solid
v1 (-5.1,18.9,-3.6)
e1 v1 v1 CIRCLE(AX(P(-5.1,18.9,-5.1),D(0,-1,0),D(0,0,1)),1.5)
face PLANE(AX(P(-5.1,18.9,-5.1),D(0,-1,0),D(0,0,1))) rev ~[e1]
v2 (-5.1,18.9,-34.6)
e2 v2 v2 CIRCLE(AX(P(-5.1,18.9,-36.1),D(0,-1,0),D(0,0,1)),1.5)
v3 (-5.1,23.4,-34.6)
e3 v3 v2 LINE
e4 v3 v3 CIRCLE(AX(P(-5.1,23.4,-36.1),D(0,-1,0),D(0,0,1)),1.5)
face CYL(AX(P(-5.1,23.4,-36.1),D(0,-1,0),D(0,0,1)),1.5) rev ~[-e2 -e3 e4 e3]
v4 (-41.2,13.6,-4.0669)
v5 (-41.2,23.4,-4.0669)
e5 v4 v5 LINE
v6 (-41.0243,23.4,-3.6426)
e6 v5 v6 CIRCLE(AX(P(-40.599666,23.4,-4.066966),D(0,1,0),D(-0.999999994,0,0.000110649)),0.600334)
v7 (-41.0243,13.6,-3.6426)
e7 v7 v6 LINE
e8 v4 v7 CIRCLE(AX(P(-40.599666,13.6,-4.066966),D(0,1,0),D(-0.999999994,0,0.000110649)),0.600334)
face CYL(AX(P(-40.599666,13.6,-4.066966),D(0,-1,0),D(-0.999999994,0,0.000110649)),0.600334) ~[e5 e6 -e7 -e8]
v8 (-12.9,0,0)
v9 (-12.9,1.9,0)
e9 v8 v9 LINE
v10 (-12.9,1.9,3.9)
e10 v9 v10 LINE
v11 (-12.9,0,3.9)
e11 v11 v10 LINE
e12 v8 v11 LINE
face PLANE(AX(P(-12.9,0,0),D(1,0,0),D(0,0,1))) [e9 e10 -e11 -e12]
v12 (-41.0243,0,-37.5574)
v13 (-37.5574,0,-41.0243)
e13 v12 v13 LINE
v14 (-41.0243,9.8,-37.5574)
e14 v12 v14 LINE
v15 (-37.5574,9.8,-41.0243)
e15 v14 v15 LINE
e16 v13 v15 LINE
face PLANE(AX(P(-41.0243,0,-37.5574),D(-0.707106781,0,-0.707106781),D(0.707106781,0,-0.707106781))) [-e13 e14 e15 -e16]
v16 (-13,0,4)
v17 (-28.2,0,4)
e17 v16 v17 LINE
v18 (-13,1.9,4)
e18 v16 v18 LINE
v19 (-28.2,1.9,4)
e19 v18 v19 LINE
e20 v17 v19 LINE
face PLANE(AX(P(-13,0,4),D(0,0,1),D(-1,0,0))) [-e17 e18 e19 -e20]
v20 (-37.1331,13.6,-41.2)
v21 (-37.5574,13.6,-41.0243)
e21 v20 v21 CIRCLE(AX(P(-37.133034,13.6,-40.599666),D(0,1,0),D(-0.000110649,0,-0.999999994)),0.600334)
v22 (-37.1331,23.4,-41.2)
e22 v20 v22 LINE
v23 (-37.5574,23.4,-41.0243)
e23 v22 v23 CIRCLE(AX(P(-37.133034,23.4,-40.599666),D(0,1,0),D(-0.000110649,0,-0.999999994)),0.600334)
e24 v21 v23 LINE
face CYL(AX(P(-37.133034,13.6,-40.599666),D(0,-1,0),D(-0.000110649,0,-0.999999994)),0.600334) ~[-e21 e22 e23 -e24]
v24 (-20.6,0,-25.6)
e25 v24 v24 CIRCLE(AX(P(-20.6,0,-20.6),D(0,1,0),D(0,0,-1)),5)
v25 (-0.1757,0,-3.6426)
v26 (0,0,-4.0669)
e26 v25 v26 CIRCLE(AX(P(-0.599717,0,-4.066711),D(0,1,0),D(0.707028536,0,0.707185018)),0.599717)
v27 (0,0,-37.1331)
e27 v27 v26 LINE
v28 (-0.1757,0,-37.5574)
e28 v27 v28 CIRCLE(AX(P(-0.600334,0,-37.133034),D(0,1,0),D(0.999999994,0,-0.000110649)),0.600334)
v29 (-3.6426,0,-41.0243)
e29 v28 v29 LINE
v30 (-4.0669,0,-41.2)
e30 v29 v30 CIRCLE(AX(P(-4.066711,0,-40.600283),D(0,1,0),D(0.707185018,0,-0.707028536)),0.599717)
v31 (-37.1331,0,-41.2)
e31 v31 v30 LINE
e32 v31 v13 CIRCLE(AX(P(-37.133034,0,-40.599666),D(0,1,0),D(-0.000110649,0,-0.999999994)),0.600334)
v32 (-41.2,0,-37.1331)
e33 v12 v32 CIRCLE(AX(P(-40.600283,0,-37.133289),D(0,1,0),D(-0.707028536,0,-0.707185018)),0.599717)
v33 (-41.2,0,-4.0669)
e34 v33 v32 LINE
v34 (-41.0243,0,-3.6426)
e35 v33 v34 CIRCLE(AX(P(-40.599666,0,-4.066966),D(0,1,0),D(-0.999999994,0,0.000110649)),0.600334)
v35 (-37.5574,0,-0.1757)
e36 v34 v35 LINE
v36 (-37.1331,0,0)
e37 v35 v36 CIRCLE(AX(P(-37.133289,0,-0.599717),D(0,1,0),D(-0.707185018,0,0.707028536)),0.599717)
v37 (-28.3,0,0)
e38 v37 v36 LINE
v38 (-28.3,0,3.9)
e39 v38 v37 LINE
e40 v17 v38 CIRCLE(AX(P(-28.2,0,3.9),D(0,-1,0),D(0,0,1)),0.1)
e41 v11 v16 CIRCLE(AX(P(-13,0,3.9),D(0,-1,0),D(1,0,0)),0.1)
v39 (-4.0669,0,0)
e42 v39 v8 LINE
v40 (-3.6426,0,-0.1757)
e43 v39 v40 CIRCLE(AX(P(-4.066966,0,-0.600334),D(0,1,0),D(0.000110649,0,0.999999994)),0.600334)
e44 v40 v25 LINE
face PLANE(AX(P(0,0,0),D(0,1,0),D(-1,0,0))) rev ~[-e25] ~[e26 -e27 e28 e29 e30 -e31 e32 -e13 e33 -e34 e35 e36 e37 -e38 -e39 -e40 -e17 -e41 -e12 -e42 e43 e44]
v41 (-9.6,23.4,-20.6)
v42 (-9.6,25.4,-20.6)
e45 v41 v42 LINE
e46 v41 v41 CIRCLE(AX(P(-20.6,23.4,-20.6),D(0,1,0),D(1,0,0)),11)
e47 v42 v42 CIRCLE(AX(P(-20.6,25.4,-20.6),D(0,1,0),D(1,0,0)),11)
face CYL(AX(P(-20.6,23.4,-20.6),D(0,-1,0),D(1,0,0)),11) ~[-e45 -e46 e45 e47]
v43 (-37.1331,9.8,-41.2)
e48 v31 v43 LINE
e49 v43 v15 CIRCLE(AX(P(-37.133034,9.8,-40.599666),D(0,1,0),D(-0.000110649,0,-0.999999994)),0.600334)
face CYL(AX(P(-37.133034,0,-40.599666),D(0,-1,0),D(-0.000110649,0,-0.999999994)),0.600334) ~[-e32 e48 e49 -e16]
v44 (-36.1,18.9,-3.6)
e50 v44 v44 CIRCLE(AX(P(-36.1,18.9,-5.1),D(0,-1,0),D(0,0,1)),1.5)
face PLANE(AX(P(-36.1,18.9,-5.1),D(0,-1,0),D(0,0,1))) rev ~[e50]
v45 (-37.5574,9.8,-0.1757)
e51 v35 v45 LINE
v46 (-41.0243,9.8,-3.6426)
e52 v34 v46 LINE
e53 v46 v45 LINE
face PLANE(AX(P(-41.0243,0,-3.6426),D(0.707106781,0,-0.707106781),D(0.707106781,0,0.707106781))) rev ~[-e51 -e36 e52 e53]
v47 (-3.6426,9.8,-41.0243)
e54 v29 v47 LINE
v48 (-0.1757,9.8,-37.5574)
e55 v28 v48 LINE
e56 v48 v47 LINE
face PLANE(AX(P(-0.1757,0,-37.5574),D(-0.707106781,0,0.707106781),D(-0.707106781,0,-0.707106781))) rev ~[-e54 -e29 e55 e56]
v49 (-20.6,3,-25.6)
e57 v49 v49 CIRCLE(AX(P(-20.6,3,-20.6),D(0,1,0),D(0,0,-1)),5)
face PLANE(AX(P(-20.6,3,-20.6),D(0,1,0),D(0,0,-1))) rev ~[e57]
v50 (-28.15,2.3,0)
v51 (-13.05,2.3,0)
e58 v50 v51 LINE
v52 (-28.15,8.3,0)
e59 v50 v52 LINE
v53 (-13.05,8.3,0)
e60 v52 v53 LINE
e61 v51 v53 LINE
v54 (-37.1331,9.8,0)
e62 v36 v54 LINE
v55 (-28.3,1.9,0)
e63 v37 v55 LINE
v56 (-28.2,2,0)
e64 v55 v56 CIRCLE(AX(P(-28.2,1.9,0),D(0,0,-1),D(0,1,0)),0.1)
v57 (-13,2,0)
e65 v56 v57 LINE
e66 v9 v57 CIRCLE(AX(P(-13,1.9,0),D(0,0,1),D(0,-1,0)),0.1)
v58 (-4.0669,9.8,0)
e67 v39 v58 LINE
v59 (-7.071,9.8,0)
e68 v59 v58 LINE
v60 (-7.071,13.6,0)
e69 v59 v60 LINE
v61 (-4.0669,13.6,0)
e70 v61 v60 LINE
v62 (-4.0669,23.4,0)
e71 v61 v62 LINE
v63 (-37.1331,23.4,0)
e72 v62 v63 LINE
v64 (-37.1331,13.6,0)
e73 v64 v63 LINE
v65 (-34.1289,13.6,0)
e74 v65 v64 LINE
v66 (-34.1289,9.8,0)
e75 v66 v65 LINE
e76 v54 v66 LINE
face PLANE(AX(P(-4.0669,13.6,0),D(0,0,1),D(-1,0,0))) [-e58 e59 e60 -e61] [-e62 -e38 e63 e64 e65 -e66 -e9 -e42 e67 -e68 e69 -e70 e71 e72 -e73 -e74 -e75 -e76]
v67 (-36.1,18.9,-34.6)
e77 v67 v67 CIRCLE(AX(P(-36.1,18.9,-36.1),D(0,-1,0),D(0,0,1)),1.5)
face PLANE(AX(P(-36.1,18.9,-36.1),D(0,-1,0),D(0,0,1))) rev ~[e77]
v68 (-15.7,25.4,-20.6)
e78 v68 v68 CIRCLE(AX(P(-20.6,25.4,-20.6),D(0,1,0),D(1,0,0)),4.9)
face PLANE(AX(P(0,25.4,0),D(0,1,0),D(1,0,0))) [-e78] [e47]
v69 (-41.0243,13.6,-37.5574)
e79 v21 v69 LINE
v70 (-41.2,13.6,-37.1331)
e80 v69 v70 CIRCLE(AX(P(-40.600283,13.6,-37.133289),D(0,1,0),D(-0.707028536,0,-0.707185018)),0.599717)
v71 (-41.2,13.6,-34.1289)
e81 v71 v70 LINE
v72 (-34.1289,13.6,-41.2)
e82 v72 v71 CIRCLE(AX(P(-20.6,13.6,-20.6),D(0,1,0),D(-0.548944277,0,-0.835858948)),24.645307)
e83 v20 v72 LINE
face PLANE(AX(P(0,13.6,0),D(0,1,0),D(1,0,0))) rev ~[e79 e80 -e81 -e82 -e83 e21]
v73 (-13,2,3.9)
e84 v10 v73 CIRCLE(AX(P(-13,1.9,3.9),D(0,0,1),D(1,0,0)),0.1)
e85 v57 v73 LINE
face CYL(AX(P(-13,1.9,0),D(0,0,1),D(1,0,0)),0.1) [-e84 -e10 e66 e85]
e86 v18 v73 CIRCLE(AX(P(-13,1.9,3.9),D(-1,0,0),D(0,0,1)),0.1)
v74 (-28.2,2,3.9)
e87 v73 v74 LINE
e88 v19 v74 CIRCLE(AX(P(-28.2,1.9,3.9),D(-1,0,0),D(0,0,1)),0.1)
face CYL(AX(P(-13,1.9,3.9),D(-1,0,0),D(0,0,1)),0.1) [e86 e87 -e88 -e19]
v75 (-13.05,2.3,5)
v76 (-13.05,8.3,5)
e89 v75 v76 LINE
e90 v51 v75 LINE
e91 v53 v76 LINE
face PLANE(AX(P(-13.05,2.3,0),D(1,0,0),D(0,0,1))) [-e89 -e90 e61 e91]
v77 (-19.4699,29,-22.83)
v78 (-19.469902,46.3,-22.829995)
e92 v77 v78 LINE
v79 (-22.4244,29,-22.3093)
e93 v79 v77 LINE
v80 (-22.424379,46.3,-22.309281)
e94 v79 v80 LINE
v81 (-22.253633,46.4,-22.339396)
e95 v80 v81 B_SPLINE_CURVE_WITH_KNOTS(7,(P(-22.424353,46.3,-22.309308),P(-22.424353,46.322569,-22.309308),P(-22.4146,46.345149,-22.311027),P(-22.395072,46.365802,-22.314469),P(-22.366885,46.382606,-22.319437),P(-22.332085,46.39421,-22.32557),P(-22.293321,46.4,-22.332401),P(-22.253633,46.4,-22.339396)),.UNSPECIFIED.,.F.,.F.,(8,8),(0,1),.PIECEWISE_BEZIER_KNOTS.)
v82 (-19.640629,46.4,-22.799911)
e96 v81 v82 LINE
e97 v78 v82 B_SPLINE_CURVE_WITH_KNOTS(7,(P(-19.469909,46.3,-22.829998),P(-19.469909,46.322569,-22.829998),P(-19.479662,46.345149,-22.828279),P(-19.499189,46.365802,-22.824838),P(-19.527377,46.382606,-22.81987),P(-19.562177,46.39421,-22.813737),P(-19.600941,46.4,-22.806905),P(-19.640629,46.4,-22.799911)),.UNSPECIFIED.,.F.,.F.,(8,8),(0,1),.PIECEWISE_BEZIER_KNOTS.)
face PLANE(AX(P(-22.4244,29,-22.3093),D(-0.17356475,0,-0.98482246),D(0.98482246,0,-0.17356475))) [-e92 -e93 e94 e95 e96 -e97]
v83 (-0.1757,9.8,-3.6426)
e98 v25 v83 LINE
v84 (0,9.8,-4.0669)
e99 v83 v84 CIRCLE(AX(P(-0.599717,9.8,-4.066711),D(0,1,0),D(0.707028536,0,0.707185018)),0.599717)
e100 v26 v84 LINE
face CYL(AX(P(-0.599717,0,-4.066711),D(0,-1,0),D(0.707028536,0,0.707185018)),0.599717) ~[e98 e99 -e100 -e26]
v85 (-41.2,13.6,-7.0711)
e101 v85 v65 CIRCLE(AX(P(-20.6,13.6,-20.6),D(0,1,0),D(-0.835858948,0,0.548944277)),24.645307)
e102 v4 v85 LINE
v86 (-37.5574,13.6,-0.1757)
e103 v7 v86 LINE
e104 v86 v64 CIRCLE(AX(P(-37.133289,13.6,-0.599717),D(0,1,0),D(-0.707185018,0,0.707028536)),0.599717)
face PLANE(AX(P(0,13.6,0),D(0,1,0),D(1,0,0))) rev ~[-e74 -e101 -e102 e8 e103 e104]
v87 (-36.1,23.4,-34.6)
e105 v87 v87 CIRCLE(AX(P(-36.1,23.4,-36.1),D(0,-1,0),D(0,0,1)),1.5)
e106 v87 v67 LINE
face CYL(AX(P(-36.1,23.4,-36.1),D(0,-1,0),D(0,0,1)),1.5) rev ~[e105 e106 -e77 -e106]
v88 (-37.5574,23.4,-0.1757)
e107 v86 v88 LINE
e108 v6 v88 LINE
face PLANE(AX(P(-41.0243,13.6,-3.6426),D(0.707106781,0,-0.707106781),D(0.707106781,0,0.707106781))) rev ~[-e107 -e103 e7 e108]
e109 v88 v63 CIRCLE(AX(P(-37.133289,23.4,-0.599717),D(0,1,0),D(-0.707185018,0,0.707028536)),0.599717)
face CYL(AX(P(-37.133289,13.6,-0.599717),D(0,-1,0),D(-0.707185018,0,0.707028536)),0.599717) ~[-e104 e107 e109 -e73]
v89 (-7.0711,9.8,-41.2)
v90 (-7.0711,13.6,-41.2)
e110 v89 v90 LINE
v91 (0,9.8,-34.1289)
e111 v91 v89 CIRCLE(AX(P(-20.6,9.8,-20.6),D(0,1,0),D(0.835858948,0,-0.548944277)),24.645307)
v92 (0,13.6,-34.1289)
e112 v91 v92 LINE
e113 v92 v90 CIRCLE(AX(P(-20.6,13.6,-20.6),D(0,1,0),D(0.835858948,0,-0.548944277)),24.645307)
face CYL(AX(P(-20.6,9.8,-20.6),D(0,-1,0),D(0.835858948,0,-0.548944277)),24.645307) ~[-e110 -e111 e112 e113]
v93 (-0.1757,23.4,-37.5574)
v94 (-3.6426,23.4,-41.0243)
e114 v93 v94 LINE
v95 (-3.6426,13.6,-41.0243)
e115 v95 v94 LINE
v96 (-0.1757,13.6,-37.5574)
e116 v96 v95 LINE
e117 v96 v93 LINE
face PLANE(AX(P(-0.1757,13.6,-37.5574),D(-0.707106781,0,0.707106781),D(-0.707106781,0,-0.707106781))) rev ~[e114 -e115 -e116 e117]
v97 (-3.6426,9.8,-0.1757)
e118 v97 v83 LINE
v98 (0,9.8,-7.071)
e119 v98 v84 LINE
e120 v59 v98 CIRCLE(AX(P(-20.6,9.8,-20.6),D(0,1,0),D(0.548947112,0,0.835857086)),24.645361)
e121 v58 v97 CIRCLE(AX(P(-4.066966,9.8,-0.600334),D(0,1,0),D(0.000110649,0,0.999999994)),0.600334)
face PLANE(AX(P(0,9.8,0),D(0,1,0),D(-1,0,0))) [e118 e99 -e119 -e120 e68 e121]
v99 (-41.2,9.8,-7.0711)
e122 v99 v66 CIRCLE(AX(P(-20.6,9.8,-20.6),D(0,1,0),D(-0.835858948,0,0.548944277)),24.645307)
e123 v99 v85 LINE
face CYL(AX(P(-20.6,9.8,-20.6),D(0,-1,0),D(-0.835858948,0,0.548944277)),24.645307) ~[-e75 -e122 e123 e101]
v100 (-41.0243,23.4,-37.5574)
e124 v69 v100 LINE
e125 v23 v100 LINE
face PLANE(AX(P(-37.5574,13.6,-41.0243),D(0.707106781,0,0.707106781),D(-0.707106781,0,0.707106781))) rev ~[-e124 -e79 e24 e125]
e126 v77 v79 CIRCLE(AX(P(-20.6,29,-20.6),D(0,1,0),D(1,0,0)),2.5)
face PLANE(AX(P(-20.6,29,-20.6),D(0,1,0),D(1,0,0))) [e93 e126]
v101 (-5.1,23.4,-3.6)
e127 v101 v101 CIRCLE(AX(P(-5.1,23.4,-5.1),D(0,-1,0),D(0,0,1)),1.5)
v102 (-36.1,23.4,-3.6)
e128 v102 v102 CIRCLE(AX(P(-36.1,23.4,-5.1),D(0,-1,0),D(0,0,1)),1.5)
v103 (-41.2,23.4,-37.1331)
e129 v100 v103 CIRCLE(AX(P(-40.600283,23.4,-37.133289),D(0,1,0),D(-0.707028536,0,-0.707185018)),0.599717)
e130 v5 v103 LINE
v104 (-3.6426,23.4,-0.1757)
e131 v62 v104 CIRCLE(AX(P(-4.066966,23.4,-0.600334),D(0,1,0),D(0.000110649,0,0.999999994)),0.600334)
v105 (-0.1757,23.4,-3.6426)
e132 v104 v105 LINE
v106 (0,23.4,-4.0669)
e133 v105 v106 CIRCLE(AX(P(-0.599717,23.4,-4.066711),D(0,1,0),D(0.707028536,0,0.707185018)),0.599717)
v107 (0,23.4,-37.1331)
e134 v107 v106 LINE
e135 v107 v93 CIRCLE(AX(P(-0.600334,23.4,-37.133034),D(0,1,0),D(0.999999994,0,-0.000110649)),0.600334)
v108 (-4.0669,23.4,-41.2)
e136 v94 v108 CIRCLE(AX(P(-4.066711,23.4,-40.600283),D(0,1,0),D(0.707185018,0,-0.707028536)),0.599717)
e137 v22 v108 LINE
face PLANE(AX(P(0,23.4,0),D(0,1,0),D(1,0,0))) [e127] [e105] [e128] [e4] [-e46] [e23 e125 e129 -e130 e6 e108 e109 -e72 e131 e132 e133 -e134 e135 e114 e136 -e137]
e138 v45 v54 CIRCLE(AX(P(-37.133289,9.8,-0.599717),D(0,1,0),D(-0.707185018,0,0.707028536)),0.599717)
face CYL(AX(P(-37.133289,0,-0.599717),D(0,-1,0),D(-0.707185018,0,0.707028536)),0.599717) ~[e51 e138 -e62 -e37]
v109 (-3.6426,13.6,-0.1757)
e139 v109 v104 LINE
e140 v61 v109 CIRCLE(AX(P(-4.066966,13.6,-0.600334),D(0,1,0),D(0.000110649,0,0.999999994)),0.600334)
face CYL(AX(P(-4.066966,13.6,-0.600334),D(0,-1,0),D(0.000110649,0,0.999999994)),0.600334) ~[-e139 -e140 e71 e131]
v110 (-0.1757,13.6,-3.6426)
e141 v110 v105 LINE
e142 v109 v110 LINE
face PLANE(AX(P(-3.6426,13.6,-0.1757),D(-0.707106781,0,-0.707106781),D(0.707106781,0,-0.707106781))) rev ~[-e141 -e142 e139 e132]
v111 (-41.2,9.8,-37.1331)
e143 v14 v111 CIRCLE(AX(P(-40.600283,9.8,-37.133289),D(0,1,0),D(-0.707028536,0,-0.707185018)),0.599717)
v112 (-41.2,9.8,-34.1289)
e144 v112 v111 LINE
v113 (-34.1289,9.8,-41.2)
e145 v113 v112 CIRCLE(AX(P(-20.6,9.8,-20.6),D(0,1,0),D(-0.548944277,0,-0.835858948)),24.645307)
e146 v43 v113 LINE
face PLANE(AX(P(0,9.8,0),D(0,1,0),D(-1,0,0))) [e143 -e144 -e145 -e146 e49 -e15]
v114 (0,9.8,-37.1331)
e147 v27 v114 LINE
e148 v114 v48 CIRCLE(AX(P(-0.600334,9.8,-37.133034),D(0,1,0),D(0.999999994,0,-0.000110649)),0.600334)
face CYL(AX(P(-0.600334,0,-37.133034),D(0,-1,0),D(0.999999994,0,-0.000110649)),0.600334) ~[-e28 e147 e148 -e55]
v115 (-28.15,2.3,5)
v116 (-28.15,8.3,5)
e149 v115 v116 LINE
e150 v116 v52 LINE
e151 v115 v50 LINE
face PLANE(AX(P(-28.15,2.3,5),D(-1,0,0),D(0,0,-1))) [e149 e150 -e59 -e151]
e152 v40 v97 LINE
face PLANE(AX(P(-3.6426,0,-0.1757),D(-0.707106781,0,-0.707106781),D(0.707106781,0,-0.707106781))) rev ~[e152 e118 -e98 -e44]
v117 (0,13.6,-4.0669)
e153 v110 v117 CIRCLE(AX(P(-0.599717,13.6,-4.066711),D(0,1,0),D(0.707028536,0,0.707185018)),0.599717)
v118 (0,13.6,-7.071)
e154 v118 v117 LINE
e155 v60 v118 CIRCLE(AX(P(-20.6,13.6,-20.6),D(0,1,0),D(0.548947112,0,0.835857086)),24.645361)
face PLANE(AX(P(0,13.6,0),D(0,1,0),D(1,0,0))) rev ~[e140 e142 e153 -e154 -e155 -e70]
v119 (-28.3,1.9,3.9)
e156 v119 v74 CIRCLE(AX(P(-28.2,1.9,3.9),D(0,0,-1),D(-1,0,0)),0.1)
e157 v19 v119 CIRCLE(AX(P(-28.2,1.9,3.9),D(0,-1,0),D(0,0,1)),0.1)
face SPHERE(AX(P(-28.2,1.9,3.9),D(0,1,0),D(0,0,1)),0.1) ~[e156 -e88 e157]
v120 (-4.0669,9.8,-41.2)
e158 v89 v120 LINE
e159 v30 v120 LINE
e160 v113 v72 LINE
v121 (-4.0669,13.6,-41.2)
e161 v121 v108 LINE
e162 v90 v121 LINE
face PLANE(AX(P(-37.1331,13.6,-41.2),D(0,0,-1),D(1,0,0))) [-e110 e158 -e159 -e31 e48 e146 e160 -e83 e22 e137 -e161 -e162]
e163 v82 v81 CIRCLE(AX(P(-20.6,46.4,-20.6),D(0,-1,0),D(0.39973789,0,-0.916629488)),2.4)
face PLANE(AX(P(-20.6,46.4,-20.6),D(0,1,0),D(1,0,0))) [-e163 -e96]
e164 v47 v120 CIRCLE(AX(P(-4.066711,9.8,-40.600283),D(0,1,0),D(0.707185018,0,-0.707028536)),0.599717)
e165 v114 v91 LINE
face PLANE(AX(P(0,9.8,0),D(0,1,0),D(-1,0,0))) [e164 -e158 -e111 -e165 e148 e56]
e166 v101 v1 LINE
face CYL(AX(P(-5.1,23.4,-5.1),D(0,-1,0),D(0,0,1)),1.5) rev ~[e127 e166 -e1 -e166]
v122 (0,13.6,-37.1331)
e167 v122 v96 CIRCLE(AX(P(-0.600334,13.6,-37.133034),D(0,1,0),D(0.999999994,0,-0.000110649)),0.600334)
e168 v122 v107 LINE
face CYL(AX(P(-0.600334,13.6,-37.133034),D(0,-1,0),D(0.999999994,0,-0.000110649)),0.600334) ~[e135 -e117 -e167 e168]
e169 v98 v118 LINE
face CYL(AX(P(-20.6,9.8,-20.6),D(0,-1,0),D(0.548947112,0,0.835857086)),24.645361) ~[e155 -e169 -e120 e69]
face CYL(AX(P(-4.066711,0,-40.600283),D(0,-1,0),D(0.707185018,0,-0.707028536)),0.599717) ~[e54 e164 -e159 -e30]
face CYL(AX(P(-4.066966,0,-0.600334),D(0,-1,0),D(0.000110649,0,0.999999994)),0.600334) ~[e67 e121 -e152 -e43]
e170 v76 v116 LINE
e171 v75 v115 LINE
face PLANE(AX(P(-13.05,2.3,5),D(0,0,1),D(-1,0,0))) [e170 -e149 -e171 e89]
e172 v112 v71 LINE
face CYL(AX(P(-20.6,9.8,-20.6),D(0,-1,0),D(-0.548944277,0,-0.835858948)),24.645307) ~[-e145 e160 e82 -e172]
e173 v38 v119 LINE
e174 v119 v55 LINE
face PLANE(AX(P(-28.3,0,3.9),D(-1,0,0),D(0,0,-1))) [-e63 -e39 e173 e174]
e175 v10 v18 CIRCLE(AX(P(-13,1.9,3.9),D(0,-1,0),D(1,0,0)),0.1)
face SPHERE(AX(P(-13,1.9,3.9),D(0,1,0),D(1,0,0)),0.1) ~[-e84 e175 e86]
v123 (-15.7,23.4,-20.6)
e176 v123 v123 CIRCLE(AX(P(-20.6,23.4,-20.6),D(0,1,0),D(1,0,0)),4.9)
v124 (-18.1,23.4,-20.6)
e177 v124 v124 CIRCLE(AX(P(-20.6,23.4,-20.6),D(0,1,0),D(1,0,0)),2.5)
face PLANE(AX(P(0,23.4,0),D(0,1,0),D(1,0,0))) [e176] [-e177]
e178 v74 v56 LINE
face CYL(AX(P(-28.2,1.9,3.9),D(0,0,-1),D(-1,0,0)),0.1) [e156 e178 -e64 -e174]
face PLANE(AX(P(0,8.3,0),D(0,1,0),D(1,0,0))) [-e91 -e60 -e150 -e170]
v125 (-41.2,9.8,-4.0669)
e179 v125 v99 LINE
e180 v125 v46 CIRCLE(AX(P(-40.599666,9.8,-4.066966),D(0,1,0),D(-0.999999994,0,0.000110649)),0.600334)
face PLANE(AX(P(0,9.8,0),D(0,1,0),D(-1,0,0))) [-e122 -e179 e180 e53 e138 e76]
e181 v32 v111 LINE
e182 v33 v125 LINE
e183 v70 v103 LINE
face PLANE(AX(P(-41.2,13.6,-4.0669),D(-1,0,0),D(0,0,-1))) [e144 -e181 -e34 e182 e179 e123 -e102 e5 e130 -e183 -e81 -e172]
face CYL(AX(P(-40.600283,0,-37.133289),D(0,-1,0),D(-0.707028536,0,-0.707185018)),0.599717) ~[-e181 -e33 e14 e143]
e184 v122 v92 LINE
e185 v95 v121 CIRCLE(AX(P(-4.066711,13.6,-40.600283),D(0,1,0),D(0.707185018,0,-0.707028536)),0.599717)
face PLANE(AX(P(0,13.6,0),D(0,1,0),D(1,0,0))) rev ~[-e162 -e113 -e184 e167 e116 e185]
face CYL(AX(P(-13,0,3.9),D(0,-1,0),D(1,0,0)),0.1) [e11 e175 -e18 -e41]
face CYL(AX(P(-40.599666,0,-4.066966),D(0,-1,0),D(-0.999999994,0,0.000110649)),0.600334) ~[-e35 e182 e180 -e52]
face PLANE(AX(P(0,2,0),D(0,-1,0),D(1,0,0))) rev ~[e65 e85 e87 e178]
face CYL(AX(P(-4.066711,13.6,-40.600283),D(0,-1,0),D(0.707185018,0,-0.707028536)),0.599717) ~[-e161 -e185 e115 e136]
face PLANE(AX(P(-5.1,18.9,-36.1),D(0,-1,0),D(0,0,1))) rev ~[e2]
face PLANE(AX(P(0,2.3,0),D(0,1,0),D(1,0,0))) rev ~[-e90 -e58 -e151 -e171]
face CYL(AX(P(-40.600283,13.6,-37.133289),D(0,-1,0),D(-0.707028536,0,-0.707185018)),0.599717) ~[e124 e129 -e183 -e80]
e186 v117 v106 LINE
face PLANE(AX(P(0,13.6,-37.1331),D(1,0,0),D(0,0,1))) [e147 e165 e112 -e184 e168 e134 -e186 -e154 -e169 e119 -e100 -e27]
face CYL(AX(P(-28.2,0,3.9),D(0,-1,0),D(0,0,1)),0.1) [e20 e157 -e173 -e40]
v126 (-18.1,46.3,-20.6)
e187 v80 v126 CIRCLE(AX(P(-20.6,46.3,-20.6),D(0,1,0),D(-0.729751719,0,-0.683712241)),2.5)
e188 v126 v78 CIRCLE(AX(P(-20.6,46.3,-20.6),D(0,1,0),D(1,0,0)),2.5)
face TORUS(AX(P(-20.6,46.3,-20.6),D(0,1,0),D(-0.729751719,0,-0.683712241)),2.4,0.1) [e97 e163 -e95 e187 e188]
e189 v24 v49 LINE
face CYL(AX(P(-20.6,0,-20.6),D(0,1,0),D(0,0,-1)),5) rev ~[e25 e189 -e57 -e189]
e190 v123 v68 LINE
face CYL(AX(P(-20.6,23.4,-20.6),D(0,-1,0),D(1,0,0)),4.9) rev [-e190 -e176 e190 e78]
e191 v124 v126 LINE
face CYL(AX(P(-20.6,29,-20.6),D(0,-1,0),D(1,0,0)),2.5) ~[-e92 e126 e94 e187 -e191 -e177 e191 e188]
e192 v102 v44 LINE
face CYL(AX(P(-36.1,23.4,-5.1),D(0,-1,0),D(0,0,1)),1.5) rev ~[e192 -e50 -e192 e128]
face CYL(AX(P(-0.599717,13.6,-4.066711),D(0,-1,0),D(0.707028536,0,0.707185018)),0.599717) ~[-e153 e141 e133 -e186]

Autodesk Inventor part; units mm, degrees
ref_plane "YZ Plane" through (0, 0, 0) normal (1, 0, 0) x (0, 1, 0)
ref_plane "XZ Plane" through (0, 0, 0) normal (0, 1, 0) x (-1, 0, 0)
ref_plane "XY Plane" through (0, 0, 0) normal (0, 0, 1) x (1, 0, 0)
sketch "スケッチ1" plane through (0, 0, 0) normal (0, 1, 0) x (-1, 0, 0)
  line L0 (41.0243, -3.6426) -> (37.5574, -0.1757)
  line L1 (41.0243, -37.5574) -> (37.5574, -41.0243)
  line L2 (3.6426, -0.1757) -> (0.1757, -3.6426)
  line L3 (0.1757, -37.5574) -> (3.6426, -41.0243)
  line L4 (0, -37.1331) -> (0, -4.0669)
  line L5 (37.1331, -41.2) -> (4.0669, -41.2)
  line L6 (41.2, -4.0669) -> (41.2, -37.1331)
  line L7 (37.1331, 0) -> (4.0669, 0)
  arc A0 (41.2, -4.0669) -> (41.0243, -3.6426) centre (40.6, -4.0669) ccw
  arc A1 (37.5574, -0.1757) -> (37.1331, 0) centre (37.1331, -0.6) ccw
  arc A2 (4.0669, 0) -> (3.6426, -0.1757) centre (4.0669, -0.6) ccw
  arc A3 (0.1757, -3.6426) -> (0, -4.0669) centre (0.6, -4.0669) ccw
  arc A4 (0, -37.1331) -> (0.1757, -37.5574) centre (0.6, -37.1331) ccw
  arc A5 (3.6426, -41.0243) -> (4.0669, -41.2) centre (4.0669, -40.6) ccw
  arc A6 (37.1331, -41.2) -> (37.5574, -41.0243) centre (37.1331, -40.6) ccw
  arc A7 (41.0243, -37.5574) -> (41.2, -37.1331) centre (40.6, -37.1331) ccw
  line L8 (25.8, 0) -> (15.4, 0)
  point P0 (0, 0)
  point P1 (41.2, -3.8184)
  point P2 (37.3816, 0)
  point P3 (39.2908, -1.9092)
  point P4 (37.3816, -41.2)
  point P5 (41.2, -37.3816)
  dimension "d2" = 5.4
  dimension "d3" = 5.4
  dimension "d4" = 0.6
extrude "押し出し1" add sketch "スケッチ1" along normal blind 9.8
sketch "スケッチ2" plane through (0, 9.8, 0) normal (0, 1, 0) x (1, 0, 0)
  line L0 (-41.2, 37.1331) -> (-41.2, 4.0669) projected
  line L1 (-41.0243, 3.6426) -> (-37.5574, 0.1757) projected
  line L2 (-4.0669, 41.2) -> (-37.1331, 41.2) projected
  line L3 (0, 4.0669) -> (0, 37.1331) projected
  line L4 (-37.1331, 0) -> (-4.0669, 0) projected
  line L5 (0, 34.1568) -> (0, 7.099)
  line L6 (-7.099, 0) -> (-34.1289, 0)
  line L7 (-41.2, 7.0711) -> (-41.2, 34.1568)
  line L8 (-37.5574, 41.0243) -> (-41.0243, 37.5574) projected
  line L9 (-3.6426, 0.1757) -> (-0.1757, 3.6426) projected
  arc A0 (-41.2, 7.0711) -> (-34.1289, 0) centre (-20.6, 20.6) ccw
  arc A1 (-7.071, 0) -> (0, 7.071) centre (-20.6, 20.6) ccw
  arc A2 (0, 34.1289) -> (-7.0711, 41.2) centre (-20.6, 20.6) ccw
  arc A3 (-34.1289, 41.2) -> (-41.2, 34.1289) centre (-20.6, 20.6) ccw
  line L10 (-34.1289, 0) -> (-7.071, 0)
  line L11 (-41.2, 7.0711) -> (-41.2, 34.1289)
  line L12 (-34.1289, 41.2) -> (-7.0711, 41.2)
  line L13 (0, 34.1289) -> (0, 7.071)
  point P0 (0, 0)
  point P1 (0, 40.8633)
  point P2 (-37.6645, 3.5355)
  point P3 (0, 34.1289)
  point P4 (-41.2, 41.2)
  point P5 (-7.071, 0)
  point P6 (0, 7.071)
  dimension "d8" = 10
  dimension "d9" = 10
extrude "押し出し2" add sketch "スケッチ2" along normal blind 3.8
ref_plane "作業平面1" through (0, 13.6, 0) normal (0, 1, 0) x (1, 0, 0)
sketch "スケッチ4" plane through (0, 13.6, 0) normal (0, 1, 0) x (1, 0, 0)
  line L0 (-4.0669, 0) -> (-37.1331, 0)
  line L1 (-41.2, 4.0669) -> (-41.2, 37.1331)
  line L2 (-37.1331, 41.2) -> (-4.0669, 41.2)
  line L3 (0, 37.1331) -> (0, 4.0669)
  line L4 (-41.0243, 3.6426) -> (-37.5574, 0.1757) projected
  line L5 (-41.0243, 3.6426) -> (-37.5574, 0.1757)
  line L6 (-0.1757, 37.5574) -> (-3.6426, 41.0243) projected
  line L7 (-3.6426, 41.0243) -> (-0.1757, 37.5574)
  line L8 (-3.6426, 0.1757) -> (-0.1757, 3.6426) projected
  line L9 (-0.1757, 3.6426) -> (-3.6426, 0.1757)
  line L10 (-37.5574, 41.0243) -> (-41.0243, 37.5574) projected
  line L11 (-37.5574, 41.0243) -> (-41.0243, 37.5574)
  arc A0 (-37.1331, 41.2) -> (-37.5574, 41.0243) centre (-37.1331, 40.6) ccw
  arc A1 (-41.0243, 37.5574) -> (-41.2, 37.1331) centre (-40.6, 37.1331) ccw
  line L12 (-41.0243, 3.6426) -> (-37.5574, 0.1757)
  arc A2 (-41.2, 4.0669) -> (-41.0243, 3.6426) centre (-40.6, 4.0669) ccw
  arc A3 (-37.5574, 0.1757) -> (-37.1331, 0) centre (-37.1331, 0.6) ccw
  arc A4 (-3.6426, 41.0243) -> (-4.0669, 41.2) centre (-4.0669, 40.6) ccw
  arc A5 (0, 37.1331) -> (-0.1757, 37.5574) centre (-0.6, 37.1331) ccw
  line L13 (-0.1757, 3.6426) -> (-3.6426, 0.1757)
  arc A6 (-0.1757, 3.6426) -> (0, 4.0669) centre (-0.6, 4.0669) ccw
  arc A7 (-4.0669, 0) -> (-3.6426, 0.1757) centre (-4.0669, 0.6) ccw
  point P0 (0, 0)
  point P1 (-41.2, 41.2)
  point P2 (-41.2, 0)
  point P3 (0, 41.2)
  point P4 (-41.0243, 37.5574)
  point P5 (-0.1757, 3.6426)
  dimension "d16" = 41.2
  dimension "d17" = 41.2
  dimension "d18" = 0.6
  dimension "d19" = 0.6
  dimension "d20" = 0.6
  dimension "d21" = 0.6
  dimension "d22" = 0.6
extrude "押し出し3" add sketch "スケッチ4" along normal blind 9.8
ref_plane "作業平面2" through (0, 0, 0) normal (0, -1, 0) x (1, 0, 0)
sketch "スケッチ5" plane through (0, 0, 0) normal (0, -1, 0) x (1, 0, 0)
  line L0 (-37.1331, 0) -> (-4.0669, 0) projected
  line L1 (-37.1331, 0) -> (-4.0669, 0) projected
  line L2 (-28.3, 0) -> (-12.9, 0)
  line L3 (-12.9, 0) -> (-12.9, 3.9)
  line L4 (-13, 4) -> (-28.2, 4)
  line L5 (-28.3, 3.9) -> (-28.3, 0)
  arc A0 (-28.2, 4) -> (-28.3, 3.9) centre (-28.2, 3.9) ccw
  arc A1 (-12.9, 3.9) -> (-13, 4) centre (-13, 3.9) ccw
  point P0 (0, 0)
  point P1 (-15.4, 0)
  point P2 (-12.9, 4)
  point P3 (-28.3, 4)
  point P4 (-28.3, 0)
  point P5 (-12.9, 0)
  point P6 (-20.6, 0)
  point P7 (-20.6, 0)
  dimension "d35" = 0.1
  dimension "d77" = 15.4
extrude "押し出し4" add sketch "スケッチ5" against normal blind 2
fillet "フィレット1" radius 0.1 5 edges at (-12.9, 2, 1.95) (-20.6, 2, 4) (-28.2707, 2, 3.9707) (-28.3, 2, 1.95) (-12.9293, 2, 3.9707)
ref_plane "作業平面3" through (0, 23.4, 0) normal (0, 1, 0) x (1, 0, 0)
sketch "スケッチ6" plane through (0, 23.4, 0) normal (0, 1, 0) x (1, 0, 0)
  line L0 (-41.2, 37.1331) -> (-41.2, 4.0669) projected
  line L1 (-4.0669, 41.2) -> (-37.1331, 41.2) projected
  line L2 (0, 4.0669) -> (0, 37.1331) projected
  line L3 (-37.1331, 0) -> (-4.0669, 0) projected
  circle A0 centre (-36.1, 5.1) radius 1.5
  circle A1 centre (-36.1, 36.1) radius 1.5
  circle A2 centre (-5.1, 36.1) radius 1.5
  circle A3 centre (-5.1, 5.1) radius 1.5
  point P0 (0, 0)
  dimension "d39" = 5.1
  dimension "d40" = 5.1
  dimension "d41" = 5.1
  dimension "d42" = 5.1
  dimension "d43" = 5.1
  dimension "d44" = 5.1
  dimension "d45" = 5.1
  dimension "d46" = 5.1
  dimension "d47" = 3
  dimension "d48" = 3
  dimension "d49" = 3
  dimension "d50" = 3
hole "穴1" at (-36.1, 23.4, -5.1) at (-36.1, 23.4, -36.1) at (-5.1, 23.4, -36.1) at (-5.1, 23.4, -5.1) direction (0, -1, 0) diameter 3 depth 4.5
sketch "スケッチ7" plane through (0, 23.4, 0) normal (0, 1, 0) x (1, 0, 0)
  circle A0 centre (-20.6, 20.6) radius 11
  circle A1 centre (-20.6, 20.6) radius 4.9
  point P0 (0, 0)
  dimension "d58" = 22
  dimension "d59" = 9.8
extrude "押し出し5" add sketch "スケッチ7" along normal blind 2
sketch "スケッチ8" plane through (-20.6, 23.4, -20.6) normal (0, 1, 0) x (1, 0, 0)
  circle A0 centre (0, 0) radius 4.9 projected
  circle A1 centre (0, 0) radius 2.5
  point P0 (20.6, -20.6)
  dimension "d62" = 5
extrude "押し出し6" add sketch "スケッチ8" along normal blind 5.6 contours A1
ref_plane "作業平面4" through (-20.6, 29, -20.6) normal (0, 1, 0) x (1, 0, 0)
sketch "スケッチ9" plane through (-20.6, 29, -20.6) normal (0, 1, 0) x (1, 0, 0)
  line L0 (-1.8244, 1.7093) -> (1.1301, 2.23)
  circle A0 centre (0, 0) radius 2.5 projected
  arc A1 (-1.8244, 1.7093) -> (1.1301, 2.23) centre (0, 0) ccw
  point P0 (20.6, -20.6)
  dimension "d67" = 3
extrude "押し出し7" add sketch "スケッチ9" along normal blind 17.4 contours L0 A0 picked at (-1.0191, 0.489)
fillet "フィレット2" radius 0.1 1 edges at (-20.1661, 46.4, -18.1379)
ref_plane "作業平面5" through (0, 2.3, 0) normal (0, 1, 0) x (1, 0, 0)
sketch "スケッチ10" plane through (0, 2.3, 0) normal (0, 1, 0) x (1, 0, 0)
  line L0 (-37.1331, 0) -> (-4.0669, 0) projected
  line L1 (-28.15, 0) -> (-13.05, 0)
  line L2 (-13.05, 0) -> (-13.05, -5)
  line L3 (-13.05, -5) -> (-28.15, -5)
  line L4 (-28.15, -5) -> (-28.15, 0)
  point P0 (0, 0)
  point P1 (-13.05, 0)
  point P2 (-13.05, 0)
  dimension "d74" = 5
  dimension "d80" = 15.1
extrude "押し出し8" add sketch "スケッチ10" along normal blind 6
sketch "スケッチ11" plane through (0, 0, 0) normal (0, -1, 0) x (1, 0, 0)
  circle A0 centre (-20.6, -20.6) radius 5
  point P0 (0, 0)
  dimension "d81" = 10
hole "穴2" at (-20.6, 0, -20.6) direction (0, 1, 0) diameter 10 depth 3
properties part number "stepper_motor"
